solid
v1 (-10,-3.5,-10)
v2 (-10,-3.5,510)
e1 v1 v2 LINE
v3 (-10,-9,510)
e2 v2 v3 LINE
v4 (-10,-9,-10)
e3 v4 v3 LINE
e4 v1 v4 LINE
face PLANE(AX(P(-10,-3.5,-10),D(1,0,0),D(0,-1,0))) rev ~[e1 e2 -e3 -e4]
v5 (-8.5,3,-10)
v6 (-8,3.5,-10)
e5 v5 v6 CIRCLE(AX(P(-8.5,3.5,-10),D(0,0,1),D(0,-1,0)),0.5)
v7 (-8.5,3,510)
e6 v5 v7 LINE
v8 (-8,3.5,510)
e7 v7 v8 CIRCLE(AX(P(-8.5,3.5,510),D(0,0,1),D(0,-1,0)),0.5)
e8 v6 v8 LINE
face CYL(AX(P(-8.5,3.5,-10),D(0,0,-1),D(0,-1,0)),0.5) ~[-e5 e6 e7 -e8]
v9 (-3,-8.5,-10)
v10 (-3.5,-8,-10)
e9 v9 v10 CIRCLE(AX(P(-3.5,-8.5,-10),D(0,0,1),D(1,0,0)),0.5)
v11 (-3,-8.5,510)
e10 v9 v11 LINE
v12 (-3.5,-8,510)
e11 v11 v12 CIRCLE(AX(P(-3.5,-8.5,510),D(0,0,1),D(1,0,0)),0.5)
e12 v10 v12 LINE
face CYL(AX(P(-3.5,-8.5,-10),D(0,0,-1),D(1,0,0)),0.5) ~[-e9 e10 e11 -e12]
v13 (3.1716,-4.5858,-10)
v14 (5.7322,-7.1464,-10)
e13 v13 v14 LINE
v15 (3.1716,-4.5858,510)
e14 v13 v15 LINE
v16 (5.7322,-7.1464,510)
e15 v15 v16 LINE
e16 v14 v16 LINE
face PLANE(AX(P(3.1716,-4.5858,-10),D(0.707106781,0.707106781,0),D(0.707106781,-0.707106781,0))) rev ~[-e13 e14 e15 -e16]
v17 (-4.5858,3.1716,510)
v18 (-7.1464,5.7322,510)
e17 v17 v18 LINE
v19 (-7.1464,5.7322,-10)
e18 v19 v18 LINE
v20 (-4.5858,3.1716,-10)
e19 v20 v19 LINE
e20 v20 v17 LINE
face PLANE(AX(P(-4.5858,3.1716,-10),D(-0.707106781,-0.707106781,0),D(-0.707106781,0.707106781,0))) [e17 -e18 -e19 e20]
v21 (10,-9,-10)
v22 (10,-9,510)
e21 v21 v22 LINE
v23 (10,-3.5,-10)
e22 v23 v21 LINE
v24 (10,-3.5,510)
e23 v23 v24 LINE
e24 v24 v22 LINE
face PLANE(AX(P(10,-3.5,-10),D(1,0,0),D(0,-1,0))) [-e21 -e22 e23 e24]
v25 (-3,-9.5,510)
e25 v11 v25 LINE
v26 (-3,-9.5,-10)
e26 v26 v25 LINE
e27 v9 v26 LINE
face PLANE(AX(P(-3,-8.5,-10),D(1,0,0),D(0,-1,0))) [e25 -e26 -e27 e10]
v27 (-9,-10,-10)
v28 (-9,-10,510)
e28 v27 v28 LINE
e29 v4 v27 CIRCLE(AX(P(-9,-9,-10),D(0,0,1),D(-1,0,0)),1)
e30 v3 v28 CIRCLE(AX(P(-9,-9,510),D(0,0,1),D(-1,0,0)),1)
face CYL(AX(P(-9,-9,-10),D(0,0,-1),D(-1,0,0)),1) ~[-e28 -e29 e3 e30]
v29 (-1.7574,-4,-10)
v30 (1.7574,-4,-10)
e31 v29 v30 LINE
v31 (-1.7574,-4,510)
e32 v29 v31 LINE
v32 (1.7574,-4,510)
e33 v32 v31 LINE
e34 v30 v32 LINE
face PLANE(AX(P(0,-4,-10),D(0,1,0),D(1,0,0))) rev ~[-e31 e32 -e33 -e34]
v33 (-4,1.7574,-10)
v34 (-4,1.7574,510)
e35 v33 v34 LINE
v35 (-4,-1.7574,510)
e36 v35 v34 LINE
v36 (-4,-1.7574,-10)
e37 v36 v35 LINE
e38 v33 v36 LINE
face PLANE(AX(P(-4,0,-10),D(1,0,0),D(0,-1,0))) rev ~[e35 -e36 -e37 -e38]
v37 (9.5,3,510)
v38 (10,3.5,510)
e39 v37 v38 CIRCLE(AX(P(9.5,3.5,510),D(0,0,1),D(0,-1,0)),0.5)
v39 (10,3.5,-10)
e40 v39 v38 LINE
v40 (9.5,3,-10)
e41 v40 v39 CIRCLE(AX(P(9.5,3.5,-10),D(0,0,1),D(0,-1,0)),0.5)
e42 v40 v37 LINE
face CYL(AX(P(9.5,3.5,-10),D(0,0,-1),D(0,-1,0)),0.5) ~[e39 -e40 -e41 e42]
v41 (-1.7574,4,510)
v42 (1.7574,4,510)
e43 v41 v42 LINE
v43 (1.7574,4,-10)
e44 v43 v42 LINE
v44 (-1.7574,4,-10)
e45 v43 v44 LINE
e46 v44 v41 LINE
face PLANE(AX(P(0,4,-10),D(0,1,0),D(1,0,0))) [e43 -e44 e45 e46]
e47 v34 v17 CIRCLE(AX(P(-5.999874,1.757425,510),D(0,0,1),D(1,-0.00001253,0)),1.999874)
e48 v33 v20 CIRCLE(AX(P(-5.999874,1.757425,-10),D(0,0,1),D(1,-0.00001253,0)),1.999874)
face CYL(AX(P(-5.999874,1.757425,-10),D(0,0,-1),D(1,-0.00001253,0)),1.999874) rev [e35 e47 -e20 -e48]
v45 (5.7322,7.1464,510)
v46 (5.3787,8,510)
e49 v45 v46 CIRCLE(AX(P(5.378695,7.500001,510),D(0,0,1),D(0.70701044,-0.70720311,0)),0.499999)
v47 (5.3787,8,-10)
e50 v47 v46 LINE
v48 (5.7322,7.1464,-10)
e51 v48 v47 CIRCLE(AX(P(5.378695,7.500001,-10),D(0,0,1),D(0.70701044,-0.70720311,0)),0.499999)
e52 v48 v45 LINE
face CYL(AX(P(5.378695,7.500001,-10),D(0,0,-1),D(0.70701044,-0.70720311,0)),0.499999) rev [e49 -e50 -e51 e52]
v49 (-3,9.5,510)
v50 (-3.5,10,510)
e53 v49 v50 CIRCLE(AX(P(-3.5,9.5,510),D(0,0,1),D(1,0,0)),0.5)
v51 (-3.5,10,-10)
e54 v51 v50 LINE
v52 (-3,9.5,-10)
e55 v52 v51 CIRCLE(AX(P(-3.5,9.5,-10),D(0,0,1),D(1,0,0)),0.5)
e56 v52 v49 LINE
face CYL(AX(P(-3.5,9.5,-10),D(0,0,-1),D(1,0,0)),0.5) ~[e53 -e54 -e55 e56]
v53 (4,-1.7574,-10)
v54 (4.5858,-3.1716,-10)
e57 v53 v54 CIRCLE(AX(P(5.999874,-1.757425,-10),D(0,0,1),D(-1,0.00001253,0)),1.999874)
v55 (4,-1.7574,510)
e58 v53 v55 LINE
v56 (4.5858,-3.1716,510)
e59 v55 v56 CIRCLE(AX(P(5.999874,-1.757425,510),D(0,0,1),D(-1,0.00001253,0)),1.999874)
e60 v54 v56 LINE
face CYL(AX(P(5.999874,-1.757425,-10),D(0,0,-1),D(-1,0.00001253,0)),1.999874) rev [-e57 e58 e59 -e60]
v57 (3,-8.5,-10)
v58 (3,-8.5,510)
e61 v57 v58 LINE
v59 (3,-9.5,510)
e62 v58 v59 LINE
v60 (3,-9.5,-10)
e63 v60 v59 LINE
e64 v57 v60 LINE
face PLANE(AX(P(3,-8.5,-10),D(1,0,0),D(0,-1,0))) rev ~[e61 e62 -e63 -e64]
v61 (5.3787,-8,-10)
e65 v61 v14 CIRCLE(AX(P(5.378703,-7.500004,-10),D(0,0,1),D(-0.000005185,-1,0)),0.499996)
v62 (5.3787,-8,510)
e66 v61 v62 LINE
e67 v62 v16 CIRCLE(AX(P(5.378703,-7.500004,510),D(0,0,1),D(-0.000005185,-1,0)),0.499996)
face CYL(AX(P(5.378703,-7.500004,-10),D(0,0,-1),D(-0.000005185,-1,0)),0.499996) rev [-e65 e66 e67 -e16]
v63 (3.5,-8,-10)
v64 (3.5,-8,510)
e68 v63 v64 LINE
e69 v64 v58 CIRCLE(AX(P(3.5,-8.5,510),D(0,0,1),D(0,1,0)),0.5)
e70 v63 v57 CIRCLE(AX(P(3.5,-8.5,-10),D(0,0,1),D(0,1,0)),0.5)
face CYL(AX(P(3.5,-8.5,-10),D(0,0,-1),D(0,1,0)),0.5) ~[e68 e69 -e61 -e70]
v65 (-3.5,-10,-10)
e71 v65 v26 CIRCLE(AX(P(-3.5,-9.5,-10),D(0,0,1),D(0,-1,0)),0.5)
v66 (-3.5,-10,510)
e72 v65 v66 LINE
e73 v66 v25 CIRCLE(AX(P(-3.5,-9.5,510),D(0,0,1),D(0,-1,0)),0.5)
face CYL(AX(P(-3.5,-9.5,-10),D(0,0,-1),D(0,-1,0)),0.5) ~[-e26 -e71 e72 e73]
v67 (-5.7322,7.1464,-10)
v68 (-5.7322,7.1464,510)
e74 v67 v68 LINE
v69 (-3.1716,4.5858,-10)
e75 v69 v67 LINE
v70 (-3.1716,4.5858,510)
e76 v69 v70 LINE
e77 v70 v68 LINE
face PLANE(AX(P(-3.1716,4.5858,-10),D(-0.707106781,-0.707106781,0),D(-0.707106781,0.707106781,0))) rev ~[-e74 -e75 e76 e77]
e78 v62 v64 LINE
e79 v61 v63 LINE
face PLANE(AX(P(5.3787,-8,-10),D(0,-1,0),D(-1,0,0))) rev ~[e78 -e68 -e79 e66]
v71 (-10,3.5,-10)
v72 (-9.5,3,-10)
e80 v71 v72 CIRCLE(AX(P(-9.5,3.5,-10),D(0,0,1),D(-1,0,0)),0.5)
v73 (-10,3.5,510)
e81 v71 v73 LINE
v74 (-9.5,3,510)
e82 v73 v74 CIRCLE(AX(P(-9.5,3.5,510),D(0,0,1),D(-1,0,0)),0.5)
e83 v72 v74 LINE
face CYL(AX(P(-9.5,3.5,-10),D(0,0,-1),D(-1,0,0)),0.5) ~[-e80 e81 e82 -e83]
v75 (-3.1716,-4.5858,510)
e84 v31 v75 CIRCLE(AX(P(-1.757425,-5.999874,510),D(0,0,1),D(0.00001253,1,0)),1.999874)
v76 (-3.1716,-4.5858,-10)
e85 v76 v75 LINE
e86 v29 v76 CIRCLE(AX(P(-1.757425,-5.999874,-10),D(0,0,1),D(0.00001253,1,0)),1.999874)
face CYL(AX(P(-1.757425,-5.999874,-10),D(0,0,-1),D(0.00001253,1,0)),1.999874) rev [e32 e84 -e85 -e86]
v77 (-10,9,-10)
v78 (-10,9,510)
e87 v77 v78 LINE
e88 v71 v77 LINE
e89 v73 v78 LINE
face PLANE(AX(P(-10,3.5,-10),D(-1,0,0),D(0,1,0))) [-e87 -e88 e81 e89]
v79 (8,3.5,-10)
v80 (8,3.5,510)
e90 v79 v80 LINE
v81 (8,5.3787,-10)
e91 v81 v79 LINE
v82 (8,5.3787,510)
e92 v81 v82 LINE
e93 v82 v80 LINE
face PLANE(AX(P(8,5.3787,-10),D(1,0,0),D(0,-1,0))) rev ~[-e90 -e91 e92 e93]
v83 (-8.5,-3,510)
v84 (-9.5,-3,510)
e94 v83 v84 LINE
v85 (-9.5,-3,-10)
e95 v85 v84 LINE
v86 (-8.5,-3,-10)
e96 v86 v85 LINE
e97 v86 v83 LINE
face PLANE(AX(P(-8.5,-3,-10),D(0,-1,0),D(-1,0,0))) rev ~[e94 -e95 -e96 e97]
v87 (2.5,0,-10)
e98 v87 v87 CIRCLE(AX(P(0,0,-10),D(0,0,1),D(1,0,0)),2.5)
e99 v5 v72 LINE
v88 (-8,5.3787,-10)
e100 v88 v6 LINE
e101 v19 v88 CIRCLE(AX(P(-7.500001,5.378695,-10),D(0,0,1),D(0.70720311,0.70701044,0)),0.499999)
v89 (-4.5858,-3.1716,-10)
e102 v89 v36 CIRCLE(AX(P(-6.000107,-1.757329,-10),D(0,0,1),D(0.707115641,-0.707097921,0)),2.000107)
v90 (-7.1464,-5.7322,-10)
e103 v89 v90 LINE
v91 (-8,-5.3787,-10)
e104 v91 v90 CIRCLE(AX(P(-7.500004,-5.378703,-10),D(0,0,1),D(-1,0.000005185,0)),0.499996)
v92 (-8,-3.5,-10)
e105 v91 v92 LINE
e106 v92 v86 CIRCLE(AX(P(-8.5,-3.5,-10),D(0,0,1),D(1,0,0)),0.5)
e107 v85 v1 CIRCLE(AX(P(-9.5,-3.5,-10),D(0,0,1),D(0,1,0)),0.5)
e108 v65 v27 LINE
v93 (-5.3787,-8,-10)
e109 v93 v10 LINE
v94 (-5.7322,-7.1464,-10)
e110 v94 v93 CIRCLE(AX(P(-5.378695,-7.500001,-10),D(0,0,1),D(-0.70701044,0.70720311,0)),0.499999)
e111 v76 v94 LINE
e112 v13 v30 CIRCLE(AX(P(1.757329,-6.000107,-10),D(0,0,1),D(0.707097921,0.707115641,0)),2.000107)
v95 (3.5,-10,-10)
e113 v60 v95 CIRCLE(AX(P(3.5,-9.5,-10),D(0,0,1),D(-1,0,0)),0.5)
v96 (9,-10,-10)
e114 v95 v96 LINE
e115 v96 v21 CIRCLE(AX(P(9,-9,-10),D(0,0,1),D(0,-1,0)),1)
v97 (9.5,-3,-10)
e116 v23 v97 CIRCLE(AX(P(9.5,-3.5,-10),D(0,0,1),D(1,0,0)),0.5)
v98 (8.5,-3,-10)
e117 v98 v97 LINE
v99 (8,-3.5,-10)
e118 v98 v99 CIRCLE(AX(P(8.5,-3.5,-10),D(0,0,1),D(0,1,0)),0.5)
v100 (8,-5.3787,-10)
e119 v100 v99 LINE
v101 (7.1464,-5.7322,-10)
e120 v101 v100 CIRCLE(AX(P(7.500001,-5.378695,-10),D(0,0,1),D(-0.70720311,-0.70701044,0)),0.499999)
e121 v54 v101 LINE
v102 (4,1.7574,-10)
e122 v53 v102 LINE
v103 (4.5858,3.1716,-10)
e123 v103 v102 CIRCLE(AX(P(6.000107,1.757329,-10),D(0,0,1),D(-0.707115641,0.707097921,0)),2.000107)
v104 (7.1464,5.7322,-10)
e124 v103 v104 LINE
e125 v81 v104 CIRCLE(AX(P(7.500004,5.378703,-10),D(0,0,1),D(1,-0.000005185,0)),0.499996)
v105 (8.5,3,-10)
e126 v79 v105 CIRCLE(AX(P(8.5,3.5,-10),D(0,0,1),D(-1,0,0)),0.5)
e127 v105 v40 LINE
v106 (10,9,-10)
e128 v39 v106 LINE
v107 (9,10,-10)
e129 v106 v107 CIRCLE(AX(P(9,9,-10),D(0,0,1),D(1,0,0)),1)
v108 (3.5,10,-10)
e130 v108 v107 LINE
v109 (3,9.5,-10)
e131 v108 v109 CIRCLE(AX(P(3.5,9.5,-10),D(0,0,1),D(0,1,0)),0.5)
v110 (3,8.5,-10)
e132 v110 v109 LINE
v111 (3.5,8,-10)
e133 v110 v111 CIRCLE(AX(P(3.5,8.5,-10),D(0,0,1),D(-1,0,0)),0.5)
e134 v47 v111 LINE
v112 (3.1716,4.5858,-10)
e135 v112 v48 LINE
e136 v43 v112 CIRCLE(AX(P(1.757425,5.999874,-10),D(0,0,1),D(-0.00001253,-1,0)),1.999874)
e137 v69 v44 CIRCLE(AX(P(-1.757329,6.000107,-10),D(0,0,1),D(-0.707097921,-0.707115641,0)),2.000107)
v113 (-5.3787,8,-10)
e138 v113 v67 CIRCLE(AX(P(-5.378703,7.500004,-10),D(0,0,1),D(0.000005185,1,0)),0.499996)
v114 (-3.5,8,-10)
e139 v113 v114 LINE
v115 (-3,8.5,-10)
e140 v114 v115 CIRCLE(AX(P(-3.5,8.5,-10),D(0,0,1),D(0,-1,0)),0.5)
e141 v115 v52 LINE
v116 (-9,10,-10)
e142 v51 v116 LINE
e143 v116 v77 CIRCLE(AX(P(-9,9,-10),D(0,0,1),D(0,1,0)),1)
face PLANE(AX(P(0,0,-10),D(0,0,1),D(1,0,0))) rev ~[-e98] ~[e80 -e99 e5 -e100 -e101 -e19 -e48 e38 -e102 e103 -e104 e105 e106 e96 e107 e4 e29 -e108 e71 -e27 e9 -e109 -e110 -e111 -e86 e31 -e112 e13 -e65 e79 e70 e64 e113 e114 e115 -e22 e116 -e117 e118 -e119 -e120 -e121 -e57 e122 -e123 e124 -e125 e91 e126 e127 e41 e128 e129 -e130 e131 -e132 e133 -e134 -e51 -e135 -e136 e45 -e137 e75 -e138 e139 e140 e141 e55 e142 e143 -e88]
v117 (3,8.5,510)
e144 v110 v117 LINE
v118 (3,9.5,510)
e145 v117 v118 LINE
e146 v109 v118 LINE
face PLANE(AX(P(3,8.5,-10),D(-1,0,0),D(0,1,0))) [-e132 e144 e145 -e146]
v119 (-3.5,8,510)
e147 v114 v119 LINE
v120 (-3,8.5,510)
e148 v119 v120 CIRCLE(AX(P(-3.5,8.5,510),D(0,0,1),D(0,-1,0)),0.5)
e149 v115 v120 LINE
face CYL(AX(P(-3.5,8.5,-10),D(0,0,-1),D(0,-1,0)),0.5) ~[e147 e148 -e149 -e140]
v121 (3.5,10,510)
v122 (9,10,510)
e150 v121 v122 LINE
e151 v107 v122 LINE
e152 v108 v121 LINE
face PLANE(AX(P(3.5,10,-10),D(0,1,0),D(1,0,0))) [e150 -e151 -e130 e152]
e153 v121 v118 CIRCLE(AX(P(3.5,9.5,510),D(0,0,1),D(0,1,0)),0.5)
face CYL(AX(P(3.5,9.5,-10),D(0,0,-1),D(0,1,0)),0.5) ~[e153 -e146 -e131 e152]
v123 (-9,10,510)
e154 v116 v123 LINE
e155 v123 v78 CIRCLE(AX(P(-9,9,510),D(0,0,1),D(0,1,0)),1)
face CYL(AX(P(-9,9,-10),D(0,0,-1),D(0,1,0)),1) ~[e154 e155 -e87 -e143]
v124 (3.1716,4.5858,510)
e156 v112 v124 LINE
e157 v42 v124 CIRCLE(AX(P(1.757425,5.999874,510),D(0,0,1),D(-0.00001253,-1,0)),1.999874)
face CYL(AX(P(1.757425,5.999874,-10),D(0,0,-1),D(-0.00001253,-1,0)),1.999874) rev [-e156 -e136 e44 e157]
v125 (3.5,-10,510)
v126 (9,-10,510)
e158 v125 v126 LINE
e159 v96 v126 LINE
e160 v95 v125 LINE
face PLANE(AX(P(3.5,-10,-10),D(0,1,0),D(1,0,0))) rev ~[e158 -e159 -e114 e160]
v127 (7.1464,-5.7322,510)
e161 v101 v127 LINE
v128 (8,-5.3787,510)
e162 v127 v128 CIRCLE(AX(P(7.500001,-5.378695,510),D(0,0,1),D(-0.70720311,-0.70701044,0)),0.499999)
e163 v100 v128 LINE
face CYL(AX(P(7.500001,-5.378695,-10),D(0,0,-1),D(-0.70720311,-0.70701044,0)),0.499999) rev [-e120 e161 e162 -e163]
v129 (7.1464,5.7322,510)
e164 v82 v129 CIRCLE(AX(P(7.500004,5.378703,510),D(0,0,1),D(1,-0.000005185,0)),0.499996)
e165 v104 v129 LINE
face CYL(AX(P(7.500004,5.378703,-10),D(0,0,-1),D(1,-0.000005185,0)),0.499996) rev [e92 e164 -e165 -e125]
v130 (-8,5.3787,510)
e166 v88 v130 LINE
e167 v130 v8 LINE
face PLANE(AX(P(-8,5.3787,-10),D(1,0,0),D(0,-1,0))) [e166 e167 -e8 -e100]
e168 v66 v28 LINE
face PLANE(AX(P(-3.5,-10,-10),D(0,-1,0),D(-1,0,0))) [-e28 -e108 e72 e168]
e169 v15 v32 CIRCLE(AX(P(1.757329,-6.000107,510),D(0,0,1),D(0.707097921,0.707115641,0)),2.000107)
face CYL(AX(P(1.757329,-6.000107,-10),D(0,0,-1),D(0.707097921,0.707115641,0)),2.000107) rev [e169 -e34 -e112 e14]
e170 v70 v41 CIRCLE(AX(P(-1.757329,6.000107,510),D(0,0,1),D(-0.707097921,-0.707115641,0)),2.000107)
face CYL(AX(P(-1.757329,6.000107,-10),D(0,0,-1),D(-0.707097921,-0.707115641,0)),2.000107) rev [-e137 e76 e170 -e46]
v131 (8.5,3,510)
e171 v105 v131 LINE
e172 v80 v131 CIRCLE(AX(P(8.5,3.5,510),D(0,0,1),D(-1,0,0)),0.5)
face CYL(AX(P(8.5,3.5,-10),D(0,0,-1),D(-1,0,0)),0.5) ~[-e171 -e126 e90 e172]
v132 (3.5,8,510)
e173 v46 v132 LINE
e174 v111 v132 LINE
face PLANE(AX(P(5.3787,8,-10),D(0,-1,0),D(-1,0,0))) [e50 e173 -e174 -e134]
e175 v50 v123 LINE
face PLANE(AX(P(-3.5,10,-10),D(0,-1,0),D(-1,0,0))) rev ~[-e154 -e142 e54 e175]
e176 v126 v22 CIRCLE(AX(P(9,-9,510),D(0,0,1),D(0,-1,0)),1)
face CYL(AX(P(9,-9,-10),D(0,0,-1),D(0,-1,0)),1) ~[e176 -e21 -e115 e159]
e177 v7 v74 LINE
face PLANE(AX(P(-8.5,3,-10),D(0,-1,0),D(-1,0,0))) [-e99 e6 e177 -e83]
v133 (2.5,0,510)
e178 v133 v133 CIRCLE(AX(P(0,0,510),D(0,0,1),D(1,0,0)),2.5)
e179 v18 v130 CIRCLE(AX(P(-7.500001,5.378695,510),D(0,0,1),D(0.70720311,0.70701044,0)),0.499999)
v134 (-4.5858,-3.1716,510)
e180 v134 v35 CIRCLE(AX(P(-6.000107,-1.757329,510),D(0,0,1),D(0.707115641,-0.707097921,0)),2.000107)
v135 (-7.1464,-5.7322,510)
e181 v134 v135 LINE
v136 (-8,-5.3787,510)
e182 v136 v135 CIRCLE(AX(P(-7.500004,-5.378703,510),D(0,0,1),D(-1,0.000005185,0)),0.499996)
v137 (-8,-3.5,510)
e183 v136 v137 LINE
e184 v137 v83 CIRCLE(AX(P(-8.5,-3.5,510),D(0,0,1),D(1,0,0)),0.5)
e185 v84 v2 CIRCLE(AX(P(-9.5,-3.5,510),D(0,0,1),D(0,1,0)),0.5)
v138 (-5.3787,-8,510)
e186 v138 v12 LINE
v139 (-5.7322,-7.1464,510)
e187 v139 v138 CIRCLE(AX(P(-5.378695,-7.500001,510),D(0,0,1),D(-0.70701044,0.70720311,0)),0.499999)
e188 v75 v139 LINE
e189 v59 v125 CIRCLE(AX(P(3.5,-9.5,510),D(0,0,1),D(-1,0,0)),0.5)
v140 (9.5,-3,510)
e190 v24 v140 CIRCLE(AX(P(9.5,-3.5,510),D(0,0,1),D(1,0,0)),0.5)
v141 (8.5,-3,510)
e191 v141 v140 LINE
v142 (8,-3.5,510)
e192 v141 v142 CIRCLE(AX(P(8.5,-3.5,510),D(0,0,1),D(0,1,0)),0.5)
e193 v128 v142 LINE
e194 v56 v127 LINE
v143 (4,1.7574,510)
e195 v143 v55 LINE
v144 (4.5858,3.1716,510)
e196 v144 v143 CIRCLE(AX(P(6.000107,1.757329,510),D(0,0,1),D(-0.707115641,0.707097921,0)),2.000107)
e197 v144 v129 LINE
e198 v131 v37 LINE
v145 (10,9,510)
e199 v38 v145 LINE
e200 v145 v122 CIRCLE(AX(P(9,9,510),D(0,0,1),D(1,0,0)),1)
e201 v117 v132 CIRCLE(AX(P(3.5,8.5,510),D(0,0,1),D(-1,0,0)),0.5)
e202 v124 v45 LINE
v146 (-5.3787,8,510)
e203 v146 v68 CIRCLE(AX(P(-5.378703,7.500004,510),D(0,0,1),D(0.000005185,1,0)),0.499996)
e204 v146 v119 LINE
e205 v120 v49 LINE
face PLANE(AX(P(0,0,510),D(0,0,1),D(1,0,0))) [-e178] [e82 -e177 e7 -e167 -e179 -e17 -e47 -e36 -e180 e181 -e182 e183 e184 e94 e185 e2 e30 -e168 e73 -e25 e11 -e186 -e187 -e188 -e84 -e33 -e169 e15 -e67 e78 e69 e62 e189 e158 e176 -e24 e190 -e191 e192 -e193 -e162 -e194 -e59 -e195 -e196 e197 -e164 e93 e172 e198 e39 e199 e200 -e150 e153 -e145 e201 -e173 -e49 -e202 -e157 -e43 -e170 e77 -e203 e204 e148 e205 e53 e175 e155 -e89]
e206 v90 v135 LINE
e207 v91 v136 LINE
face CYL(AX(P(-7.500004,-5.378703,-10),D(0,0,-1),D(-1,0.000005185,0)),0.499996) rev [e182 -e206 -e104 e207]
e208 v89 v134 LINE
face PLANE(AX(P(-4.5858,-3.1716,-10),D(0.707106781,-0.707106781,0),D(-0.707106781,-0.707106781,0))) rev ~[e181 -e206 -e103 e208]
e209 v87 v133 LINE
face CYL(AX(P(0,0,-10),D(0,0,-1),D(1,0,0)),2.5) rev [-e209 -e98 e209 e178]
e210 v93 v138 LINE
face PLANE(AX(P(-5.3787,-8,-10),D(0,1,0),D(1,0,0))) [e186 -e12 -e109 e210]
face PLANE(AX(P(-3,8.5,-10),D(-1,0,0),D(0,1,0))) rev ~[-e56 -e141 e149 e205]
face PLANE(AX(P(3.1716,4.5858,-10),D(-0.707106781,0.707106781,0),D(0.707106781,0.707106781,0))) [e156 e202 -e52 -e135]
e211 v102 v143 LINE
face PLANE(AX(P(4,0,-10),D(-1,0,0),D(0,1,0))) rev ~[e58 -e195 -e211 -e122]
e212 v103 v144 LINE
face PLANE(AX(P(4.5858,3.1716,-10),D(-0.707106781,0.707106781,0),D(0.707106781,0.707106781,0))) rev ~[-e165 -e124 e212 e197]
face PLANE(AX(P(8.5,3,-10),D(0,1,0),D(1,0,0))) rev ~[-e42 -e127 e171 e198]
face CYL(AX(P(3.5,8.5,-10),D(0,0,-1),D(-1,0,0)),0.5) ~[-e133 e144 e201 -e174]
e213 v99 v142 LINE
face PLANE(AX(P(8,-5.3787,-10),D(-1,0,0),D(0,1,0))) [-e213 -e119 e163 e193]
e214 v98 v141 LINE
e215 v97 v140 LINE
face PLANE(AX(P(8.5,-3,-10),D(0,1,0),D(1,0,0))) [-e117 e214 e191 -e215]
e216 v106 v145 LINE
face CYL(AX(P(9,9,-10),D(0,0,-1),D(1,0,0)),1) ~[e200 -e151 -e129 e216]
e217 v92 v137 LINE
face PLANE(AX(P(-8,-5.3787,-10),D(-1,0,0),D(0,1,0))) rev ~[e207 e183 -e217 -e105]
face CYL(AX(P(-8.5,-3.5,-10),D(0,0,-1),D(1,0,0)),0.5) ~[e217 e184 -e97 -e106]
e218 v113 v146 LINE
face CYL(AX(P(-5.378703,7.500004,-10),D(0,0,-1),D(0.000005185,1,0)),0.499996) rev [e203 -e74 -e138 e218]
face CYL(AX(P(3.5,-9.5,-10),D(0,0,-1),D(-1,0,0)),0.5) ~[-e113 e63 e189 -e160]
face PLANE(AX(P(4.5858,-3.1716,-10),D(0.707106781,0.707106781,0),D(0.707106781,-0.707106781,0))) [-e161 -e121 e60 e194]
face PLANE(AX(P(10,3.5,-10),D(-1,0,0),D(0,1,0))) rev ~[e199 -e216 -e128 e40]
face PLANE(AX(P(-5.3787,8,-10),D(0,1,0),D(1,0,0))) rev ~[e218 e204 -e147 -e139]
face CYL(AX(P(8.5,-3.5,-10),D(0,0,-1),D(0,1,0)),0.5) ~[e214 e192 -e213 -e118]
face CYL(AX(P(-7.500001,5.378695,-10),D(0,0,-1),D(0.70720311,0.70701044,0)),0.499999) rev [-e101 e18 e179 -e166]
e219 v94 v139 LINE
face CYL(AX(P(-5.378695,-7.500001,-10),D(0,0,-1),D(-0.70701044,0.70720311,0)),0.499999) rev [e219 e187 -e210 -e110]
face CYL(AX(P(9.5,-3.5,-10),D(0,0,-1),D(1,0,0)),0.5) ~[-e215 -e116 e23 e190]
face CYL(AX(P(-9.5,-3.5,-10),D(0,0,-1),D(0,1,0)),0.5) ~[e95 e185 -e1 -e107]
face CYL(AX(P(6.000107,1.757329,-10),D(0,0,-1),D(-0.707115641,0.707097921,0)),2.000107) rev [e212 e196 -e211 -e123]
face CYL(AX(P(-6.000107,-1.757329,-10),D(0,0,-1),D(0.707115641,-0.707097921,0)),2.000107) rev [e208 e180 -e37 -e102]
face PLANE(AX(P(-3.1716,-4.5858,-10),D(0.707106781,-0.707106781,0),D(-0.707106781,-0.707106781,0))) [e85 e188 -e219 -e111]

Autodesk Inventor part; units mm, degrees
ref_plane "Start Plane" through (0, 0, -10) normal (0, 0, 1) x (1, 0, 0)
ref_plane "End Plane" through (0, 0, 510) normal (0, 0, 1) x (1, 0, 0)
sketch "Sketch" plane through (0, 0, 0) normal (0, 0, 1) x (1, 0, 0)
  line L0 (0, 0) -> (2.5, 0) construction
  line L1 (0, 0) -> (0, 2.5) construction
  line L2 (0, 4) -> (0, -4) construction
  line L3 (0, 4) -> (1.7574, 4)
  arc A0 (1.7574, 4) -> (3.1716, 4.5858) centre (1.7574, 6) ccw
  line L4 (3.1716, 4.5858) -> (5.7322, 7.1464)
  line L5 (-4, 0) -> (4, 0) construction
  line L6 (4, 0) -> (4, 1.7574)
  arc A1 (4.5858, 3.1716) -> (4, 1.7574) centre (6, 1.7574) ccw
  line L7 (4.5858, 3.1716) -> (7.1464, 5.7322)
  line L8 (0, 0) -> (10, 10) construction
  line L9 (0, 0) -> (19.6827, 0) construction
  arc A2 (8, 5.3787) -> (7.1464, 5.7322) centre (7.5, 5.3787) ccw
  line L10 (8, 5.3787) -> (8, 3.5)
  arc A3 (8, 3.5) -> (8.5, 3) centre (8.5, 3.5) ccw
  line L11 (8.5, 3) -> (9.5, 3)
  arc A4 (9.5, 3) -> (10, 3.5) centre (9.5, 3.5) ccw
  line L12 (10, 3.5) -> (10, 9)
  line L13 (10, 9) -> (10, 10) construction
  arc A5 (5.7322, 7.1464) -> (5.3787, 8) centre (5.3787, 7.5) ccw
  line L14 (5.3787, 8) -> (3.5, 8)
  arc A6 (3, 8.5) -> (3.5, 8) centre (3.5, 8.5) ccw
  line L15 (3, 8.5) -> (3, 9.5)
  arc A7 (3.5, 10) -> (3, 9.5) centre (3.5, 9.5) ccw
  line L16 (3.5, 10) -> (9, 10)
  arc A8 (10, 9) -> (9, 10) centre (9, 9) ccw
  line L17 (0, 4) -> (-1.7574, 4)
  arc A9 (-3.1716, 4.5858) -> (-1.7574, 4) centre (-1.7574, 6) ccw
  line L18 (-3.1716, 4.5858) -> (-5.7322, 7.1464)
  line L19 (-4, 0) -> (-4, 1.7574)
  arc A10 (-4, 1.7574) -> (-4.5858, 3.1716) centre (-6, 1.7574) ccw
  line L20 (-4.5858, 3.1716) -> (-7.1464, 5.7322)
  arc A11 (-7.1464, 5.7322) -> (-8, 5.3787) centre (-7.5, 5.3787) ccw
  line L21 (-8, 5.3787) -> (-8, 3.5)
  arc A12 (-8.5, 3) -> (-8, 3.5) centre (-8.5, 3.5) ccw
  line L22 (-8.5, 3) -> (-9.5, 3)
  arc A13 (-10, 3.5) -> (-9.5, 3) centre (-9.5, 3.5) ccw
  line L23 (-10, 3.5) -> (-10, 9)
  arc A14 (-5.3787, 8) -> (-5.7322, 7.1464) centre (-5.3787, 7.5) ccw
  line L24 (-5.3787, 8) -> (-3.5, 8)
  arc A15 (-3.5, 8) -> (-3, 8.5) centre (-3.5, 8.5) ccw
  line L25 (-3, 8.5) -> (-3, 9.5)
  arc A16 (-3, 9.5) -> (-3.5, 10) centre (-3.5, 9.5) ccw
  line L26 (-3.5, 10) -> (-9, 10)
  arc A17 (-9, 10) -> (-10, 9) centre (-9, 9) ccw
  line L27 (0, -4) -> (-1.7574, -4)
  arc A18 (-1.7574, -4) -> (-3.1716, -4.5858) centre (-1.7574, -6) ccw
  line L28 (-3.1716, -4.5858) -> (-5.7322, -7.1464)
  arc A19 (-5.7322, -7.1464) -> (-5.3787, -8) centre (-5.3787, -7.5) ccw
  line L29 (-5.3787, -8) -> (-3.5, -8)
  arc A20 (-3, -8.5) -> (-3.5, -8) centre (-3.5, -8.5) ccw
  line L30 (-3, -8.5) -> (-3, -9.5)
  arc A21 (-3.5, -10) -> (-3, -9.5) centre (-3.5, -9.5) ccw
  line L31 (-3.5, -10) -> (-9, -10)
  arc A22 (-10, -9) -> (-9, -10) centre (-9, -9) ccw
  line L32 (-10, -3.5) -> (-10, -9)
  arc A23 (-9.5, -3) -> (-10, -3.5) centre (-9.5, -3.5) ccw
  line L33 (-8.5, -3) -> (-9.5, -3)
  arc A24 (-8, -3.5) -> (-8.5, -3) centre (-8.5, -3.5) ccw
  line L34 (-8, -5.3787) -> (-8, -3.5)
  arc A25 (-8, -5.3787) -> (-7.1464, -5.7322) centre (-7.5, -5.3787) ccw
  line L35 (-4.5858, -3.1716) -> (-7.1464, -5.7322)
  arc A26 (-4.5858, -3.1716) -> (-4, -1.7574) centre (-6, -1.7574) ccw
  line L36 (-4, 0) -> (-4, -1.7574)
  line L37 (3.5, -10) -> (9, -10)
  arc A27 (9, -10) -> (10, -9) centre (9, -9) ccw
  line L38 (10, -3.5) -> (10, -9)
  arc A28 (10, -3.5) -> (9.5, -3) centre (9.5, -3.5) ccw
  line L39 (8.5, -3) -> (9.5, -3)
  arc A29 (8.5, -3) -> (8, -3.5) centre (8.5, -3.5) ccw
  line L40 (8, -5.3787) -> (8, -3.5)
  arc A30 (7.1464, -5.7322) -> (8, -5.3787) centre (7.5, -5.3787) ccw
  line L41 (4.5858, -3.1716) -> (7.1464, -5.7322)
  arc A31 (4, -1.7574) -> (4.5858, -3.1716) centre (6, -1.7574) ccw
  line L42 (4, 0) -> (4, -1.7574)
  line L43 (5.3787, -8) -> (3.5, -8)
  arc A32 (5.3787, -8) -> (5.7322, -7.1464) centre (5.3787, -7.5) ccw
  line L44 (3.1716, -4.5858) -> (5.7322, -7.1464)
  arc A33 (3.1716, -4.5858) -> (1.7574, -4) centre (1.7574, -6) ccw
  line L45 (0, -4) -> (1.7574, -4)
  arc A34 (3.5, -8) -> (3, -8.5) centre (3.5, -8.5) ccw
  line L46 (3, -8.5) -> (3, -9.5)
  arc A35 (3, -9.5) -> (3.5, -10) centre (3.5, -9.5) ccw
  circle A36 centre (0, 0) radius 2.5
  dimension "d1" = 8
  dimension "d2" = 2
  dimension "d3" = 8
  dimension "d4" = 2
  dimension "d5" = 2
  dimension "d7" = 45
  dimension "d8" = 0.5
  dimension "d9" = 0.5
  dimension "d10" = 0.5
  dimension "d12" = 2
  dimension "d17" = 7
  dimension "d18" = 10
  dimension "d19" = 0.5
  dimension "d20" = 1
  dimension "d21" = 0.5
  dimension "d22" = 0.5
  dimension "d23" = 2
  dimension "d24" = 7
  dimension "d25" = 5
extrude "Body" add sketch "Sketch" along normal up to surface (520 mm away) from surface at -10
sketch "Sketch6" plane through (0, 0, 0) normal (0, 0, 1) x (1, 0, 0)
  line L0 (0, 0) -> (10, 0)
ref_plane "Work Plane5" through (0, 0, 0) normal (0, -1, 0) x (1, 0, 0)
sketch "Sketch7" plane through (0, 0, 0) normal (0, -1, 0) x (1, 0, 0)
  line L0 (-2, -10) -> (12, -10)
  line L1 (-2, 510) -> (12, 510)
  dimension "d33" = 520
ref_plane "Work Plane6" through (-139.969, 0, -10) normal (0, 0, -1) x (-1, 0, 0)
split "Split1" plane through (-139.969, 0, -10) removes the side toward (0, 0, -1)
ref_plane "Work Plane7" through (-10.031, 0, 510) normal (0, 0, 1) x (1, 0, 0)
split "Split2" plane through (-10.031, 0, 510) removes the side toward (0, 0, 1)
equation "\"d1\" = 8 * sigma"
equation "\"d2\" = 2 * sigma"
equation "\"d3\" = 8 * sigma"
equation "\"d4\" = 2 * sigma"
equation "\"d5\" = 2 * sigma"
equation "\"d8\" = 0.5 * sigma"
equation "\"d9\" = 0.5 * sigma"
equation "\"d10\" = 0.5 * sigma"
equation "\"d12\" = 2 * sigma"
equation "\"d17\" = 7 * sigma"
equation "\"d18\" = sigma"
equation "\"d19\" = 0.5 * sigma"
equation "\"d20\" = sigma"
equation "\"d21\" = 0.5 * sigma"
equation "\"d22\" = 0.5 * sigma"
equation "\"d23\" = 2 * sigma"
equation "\"d24\" = 7 * sigma"
equation "\"d25\" = 5 * sigma"
equation "\"sigma\" = 1"
equation "\"G_L\" = d33"
properties part number "A3.3-MEM"
